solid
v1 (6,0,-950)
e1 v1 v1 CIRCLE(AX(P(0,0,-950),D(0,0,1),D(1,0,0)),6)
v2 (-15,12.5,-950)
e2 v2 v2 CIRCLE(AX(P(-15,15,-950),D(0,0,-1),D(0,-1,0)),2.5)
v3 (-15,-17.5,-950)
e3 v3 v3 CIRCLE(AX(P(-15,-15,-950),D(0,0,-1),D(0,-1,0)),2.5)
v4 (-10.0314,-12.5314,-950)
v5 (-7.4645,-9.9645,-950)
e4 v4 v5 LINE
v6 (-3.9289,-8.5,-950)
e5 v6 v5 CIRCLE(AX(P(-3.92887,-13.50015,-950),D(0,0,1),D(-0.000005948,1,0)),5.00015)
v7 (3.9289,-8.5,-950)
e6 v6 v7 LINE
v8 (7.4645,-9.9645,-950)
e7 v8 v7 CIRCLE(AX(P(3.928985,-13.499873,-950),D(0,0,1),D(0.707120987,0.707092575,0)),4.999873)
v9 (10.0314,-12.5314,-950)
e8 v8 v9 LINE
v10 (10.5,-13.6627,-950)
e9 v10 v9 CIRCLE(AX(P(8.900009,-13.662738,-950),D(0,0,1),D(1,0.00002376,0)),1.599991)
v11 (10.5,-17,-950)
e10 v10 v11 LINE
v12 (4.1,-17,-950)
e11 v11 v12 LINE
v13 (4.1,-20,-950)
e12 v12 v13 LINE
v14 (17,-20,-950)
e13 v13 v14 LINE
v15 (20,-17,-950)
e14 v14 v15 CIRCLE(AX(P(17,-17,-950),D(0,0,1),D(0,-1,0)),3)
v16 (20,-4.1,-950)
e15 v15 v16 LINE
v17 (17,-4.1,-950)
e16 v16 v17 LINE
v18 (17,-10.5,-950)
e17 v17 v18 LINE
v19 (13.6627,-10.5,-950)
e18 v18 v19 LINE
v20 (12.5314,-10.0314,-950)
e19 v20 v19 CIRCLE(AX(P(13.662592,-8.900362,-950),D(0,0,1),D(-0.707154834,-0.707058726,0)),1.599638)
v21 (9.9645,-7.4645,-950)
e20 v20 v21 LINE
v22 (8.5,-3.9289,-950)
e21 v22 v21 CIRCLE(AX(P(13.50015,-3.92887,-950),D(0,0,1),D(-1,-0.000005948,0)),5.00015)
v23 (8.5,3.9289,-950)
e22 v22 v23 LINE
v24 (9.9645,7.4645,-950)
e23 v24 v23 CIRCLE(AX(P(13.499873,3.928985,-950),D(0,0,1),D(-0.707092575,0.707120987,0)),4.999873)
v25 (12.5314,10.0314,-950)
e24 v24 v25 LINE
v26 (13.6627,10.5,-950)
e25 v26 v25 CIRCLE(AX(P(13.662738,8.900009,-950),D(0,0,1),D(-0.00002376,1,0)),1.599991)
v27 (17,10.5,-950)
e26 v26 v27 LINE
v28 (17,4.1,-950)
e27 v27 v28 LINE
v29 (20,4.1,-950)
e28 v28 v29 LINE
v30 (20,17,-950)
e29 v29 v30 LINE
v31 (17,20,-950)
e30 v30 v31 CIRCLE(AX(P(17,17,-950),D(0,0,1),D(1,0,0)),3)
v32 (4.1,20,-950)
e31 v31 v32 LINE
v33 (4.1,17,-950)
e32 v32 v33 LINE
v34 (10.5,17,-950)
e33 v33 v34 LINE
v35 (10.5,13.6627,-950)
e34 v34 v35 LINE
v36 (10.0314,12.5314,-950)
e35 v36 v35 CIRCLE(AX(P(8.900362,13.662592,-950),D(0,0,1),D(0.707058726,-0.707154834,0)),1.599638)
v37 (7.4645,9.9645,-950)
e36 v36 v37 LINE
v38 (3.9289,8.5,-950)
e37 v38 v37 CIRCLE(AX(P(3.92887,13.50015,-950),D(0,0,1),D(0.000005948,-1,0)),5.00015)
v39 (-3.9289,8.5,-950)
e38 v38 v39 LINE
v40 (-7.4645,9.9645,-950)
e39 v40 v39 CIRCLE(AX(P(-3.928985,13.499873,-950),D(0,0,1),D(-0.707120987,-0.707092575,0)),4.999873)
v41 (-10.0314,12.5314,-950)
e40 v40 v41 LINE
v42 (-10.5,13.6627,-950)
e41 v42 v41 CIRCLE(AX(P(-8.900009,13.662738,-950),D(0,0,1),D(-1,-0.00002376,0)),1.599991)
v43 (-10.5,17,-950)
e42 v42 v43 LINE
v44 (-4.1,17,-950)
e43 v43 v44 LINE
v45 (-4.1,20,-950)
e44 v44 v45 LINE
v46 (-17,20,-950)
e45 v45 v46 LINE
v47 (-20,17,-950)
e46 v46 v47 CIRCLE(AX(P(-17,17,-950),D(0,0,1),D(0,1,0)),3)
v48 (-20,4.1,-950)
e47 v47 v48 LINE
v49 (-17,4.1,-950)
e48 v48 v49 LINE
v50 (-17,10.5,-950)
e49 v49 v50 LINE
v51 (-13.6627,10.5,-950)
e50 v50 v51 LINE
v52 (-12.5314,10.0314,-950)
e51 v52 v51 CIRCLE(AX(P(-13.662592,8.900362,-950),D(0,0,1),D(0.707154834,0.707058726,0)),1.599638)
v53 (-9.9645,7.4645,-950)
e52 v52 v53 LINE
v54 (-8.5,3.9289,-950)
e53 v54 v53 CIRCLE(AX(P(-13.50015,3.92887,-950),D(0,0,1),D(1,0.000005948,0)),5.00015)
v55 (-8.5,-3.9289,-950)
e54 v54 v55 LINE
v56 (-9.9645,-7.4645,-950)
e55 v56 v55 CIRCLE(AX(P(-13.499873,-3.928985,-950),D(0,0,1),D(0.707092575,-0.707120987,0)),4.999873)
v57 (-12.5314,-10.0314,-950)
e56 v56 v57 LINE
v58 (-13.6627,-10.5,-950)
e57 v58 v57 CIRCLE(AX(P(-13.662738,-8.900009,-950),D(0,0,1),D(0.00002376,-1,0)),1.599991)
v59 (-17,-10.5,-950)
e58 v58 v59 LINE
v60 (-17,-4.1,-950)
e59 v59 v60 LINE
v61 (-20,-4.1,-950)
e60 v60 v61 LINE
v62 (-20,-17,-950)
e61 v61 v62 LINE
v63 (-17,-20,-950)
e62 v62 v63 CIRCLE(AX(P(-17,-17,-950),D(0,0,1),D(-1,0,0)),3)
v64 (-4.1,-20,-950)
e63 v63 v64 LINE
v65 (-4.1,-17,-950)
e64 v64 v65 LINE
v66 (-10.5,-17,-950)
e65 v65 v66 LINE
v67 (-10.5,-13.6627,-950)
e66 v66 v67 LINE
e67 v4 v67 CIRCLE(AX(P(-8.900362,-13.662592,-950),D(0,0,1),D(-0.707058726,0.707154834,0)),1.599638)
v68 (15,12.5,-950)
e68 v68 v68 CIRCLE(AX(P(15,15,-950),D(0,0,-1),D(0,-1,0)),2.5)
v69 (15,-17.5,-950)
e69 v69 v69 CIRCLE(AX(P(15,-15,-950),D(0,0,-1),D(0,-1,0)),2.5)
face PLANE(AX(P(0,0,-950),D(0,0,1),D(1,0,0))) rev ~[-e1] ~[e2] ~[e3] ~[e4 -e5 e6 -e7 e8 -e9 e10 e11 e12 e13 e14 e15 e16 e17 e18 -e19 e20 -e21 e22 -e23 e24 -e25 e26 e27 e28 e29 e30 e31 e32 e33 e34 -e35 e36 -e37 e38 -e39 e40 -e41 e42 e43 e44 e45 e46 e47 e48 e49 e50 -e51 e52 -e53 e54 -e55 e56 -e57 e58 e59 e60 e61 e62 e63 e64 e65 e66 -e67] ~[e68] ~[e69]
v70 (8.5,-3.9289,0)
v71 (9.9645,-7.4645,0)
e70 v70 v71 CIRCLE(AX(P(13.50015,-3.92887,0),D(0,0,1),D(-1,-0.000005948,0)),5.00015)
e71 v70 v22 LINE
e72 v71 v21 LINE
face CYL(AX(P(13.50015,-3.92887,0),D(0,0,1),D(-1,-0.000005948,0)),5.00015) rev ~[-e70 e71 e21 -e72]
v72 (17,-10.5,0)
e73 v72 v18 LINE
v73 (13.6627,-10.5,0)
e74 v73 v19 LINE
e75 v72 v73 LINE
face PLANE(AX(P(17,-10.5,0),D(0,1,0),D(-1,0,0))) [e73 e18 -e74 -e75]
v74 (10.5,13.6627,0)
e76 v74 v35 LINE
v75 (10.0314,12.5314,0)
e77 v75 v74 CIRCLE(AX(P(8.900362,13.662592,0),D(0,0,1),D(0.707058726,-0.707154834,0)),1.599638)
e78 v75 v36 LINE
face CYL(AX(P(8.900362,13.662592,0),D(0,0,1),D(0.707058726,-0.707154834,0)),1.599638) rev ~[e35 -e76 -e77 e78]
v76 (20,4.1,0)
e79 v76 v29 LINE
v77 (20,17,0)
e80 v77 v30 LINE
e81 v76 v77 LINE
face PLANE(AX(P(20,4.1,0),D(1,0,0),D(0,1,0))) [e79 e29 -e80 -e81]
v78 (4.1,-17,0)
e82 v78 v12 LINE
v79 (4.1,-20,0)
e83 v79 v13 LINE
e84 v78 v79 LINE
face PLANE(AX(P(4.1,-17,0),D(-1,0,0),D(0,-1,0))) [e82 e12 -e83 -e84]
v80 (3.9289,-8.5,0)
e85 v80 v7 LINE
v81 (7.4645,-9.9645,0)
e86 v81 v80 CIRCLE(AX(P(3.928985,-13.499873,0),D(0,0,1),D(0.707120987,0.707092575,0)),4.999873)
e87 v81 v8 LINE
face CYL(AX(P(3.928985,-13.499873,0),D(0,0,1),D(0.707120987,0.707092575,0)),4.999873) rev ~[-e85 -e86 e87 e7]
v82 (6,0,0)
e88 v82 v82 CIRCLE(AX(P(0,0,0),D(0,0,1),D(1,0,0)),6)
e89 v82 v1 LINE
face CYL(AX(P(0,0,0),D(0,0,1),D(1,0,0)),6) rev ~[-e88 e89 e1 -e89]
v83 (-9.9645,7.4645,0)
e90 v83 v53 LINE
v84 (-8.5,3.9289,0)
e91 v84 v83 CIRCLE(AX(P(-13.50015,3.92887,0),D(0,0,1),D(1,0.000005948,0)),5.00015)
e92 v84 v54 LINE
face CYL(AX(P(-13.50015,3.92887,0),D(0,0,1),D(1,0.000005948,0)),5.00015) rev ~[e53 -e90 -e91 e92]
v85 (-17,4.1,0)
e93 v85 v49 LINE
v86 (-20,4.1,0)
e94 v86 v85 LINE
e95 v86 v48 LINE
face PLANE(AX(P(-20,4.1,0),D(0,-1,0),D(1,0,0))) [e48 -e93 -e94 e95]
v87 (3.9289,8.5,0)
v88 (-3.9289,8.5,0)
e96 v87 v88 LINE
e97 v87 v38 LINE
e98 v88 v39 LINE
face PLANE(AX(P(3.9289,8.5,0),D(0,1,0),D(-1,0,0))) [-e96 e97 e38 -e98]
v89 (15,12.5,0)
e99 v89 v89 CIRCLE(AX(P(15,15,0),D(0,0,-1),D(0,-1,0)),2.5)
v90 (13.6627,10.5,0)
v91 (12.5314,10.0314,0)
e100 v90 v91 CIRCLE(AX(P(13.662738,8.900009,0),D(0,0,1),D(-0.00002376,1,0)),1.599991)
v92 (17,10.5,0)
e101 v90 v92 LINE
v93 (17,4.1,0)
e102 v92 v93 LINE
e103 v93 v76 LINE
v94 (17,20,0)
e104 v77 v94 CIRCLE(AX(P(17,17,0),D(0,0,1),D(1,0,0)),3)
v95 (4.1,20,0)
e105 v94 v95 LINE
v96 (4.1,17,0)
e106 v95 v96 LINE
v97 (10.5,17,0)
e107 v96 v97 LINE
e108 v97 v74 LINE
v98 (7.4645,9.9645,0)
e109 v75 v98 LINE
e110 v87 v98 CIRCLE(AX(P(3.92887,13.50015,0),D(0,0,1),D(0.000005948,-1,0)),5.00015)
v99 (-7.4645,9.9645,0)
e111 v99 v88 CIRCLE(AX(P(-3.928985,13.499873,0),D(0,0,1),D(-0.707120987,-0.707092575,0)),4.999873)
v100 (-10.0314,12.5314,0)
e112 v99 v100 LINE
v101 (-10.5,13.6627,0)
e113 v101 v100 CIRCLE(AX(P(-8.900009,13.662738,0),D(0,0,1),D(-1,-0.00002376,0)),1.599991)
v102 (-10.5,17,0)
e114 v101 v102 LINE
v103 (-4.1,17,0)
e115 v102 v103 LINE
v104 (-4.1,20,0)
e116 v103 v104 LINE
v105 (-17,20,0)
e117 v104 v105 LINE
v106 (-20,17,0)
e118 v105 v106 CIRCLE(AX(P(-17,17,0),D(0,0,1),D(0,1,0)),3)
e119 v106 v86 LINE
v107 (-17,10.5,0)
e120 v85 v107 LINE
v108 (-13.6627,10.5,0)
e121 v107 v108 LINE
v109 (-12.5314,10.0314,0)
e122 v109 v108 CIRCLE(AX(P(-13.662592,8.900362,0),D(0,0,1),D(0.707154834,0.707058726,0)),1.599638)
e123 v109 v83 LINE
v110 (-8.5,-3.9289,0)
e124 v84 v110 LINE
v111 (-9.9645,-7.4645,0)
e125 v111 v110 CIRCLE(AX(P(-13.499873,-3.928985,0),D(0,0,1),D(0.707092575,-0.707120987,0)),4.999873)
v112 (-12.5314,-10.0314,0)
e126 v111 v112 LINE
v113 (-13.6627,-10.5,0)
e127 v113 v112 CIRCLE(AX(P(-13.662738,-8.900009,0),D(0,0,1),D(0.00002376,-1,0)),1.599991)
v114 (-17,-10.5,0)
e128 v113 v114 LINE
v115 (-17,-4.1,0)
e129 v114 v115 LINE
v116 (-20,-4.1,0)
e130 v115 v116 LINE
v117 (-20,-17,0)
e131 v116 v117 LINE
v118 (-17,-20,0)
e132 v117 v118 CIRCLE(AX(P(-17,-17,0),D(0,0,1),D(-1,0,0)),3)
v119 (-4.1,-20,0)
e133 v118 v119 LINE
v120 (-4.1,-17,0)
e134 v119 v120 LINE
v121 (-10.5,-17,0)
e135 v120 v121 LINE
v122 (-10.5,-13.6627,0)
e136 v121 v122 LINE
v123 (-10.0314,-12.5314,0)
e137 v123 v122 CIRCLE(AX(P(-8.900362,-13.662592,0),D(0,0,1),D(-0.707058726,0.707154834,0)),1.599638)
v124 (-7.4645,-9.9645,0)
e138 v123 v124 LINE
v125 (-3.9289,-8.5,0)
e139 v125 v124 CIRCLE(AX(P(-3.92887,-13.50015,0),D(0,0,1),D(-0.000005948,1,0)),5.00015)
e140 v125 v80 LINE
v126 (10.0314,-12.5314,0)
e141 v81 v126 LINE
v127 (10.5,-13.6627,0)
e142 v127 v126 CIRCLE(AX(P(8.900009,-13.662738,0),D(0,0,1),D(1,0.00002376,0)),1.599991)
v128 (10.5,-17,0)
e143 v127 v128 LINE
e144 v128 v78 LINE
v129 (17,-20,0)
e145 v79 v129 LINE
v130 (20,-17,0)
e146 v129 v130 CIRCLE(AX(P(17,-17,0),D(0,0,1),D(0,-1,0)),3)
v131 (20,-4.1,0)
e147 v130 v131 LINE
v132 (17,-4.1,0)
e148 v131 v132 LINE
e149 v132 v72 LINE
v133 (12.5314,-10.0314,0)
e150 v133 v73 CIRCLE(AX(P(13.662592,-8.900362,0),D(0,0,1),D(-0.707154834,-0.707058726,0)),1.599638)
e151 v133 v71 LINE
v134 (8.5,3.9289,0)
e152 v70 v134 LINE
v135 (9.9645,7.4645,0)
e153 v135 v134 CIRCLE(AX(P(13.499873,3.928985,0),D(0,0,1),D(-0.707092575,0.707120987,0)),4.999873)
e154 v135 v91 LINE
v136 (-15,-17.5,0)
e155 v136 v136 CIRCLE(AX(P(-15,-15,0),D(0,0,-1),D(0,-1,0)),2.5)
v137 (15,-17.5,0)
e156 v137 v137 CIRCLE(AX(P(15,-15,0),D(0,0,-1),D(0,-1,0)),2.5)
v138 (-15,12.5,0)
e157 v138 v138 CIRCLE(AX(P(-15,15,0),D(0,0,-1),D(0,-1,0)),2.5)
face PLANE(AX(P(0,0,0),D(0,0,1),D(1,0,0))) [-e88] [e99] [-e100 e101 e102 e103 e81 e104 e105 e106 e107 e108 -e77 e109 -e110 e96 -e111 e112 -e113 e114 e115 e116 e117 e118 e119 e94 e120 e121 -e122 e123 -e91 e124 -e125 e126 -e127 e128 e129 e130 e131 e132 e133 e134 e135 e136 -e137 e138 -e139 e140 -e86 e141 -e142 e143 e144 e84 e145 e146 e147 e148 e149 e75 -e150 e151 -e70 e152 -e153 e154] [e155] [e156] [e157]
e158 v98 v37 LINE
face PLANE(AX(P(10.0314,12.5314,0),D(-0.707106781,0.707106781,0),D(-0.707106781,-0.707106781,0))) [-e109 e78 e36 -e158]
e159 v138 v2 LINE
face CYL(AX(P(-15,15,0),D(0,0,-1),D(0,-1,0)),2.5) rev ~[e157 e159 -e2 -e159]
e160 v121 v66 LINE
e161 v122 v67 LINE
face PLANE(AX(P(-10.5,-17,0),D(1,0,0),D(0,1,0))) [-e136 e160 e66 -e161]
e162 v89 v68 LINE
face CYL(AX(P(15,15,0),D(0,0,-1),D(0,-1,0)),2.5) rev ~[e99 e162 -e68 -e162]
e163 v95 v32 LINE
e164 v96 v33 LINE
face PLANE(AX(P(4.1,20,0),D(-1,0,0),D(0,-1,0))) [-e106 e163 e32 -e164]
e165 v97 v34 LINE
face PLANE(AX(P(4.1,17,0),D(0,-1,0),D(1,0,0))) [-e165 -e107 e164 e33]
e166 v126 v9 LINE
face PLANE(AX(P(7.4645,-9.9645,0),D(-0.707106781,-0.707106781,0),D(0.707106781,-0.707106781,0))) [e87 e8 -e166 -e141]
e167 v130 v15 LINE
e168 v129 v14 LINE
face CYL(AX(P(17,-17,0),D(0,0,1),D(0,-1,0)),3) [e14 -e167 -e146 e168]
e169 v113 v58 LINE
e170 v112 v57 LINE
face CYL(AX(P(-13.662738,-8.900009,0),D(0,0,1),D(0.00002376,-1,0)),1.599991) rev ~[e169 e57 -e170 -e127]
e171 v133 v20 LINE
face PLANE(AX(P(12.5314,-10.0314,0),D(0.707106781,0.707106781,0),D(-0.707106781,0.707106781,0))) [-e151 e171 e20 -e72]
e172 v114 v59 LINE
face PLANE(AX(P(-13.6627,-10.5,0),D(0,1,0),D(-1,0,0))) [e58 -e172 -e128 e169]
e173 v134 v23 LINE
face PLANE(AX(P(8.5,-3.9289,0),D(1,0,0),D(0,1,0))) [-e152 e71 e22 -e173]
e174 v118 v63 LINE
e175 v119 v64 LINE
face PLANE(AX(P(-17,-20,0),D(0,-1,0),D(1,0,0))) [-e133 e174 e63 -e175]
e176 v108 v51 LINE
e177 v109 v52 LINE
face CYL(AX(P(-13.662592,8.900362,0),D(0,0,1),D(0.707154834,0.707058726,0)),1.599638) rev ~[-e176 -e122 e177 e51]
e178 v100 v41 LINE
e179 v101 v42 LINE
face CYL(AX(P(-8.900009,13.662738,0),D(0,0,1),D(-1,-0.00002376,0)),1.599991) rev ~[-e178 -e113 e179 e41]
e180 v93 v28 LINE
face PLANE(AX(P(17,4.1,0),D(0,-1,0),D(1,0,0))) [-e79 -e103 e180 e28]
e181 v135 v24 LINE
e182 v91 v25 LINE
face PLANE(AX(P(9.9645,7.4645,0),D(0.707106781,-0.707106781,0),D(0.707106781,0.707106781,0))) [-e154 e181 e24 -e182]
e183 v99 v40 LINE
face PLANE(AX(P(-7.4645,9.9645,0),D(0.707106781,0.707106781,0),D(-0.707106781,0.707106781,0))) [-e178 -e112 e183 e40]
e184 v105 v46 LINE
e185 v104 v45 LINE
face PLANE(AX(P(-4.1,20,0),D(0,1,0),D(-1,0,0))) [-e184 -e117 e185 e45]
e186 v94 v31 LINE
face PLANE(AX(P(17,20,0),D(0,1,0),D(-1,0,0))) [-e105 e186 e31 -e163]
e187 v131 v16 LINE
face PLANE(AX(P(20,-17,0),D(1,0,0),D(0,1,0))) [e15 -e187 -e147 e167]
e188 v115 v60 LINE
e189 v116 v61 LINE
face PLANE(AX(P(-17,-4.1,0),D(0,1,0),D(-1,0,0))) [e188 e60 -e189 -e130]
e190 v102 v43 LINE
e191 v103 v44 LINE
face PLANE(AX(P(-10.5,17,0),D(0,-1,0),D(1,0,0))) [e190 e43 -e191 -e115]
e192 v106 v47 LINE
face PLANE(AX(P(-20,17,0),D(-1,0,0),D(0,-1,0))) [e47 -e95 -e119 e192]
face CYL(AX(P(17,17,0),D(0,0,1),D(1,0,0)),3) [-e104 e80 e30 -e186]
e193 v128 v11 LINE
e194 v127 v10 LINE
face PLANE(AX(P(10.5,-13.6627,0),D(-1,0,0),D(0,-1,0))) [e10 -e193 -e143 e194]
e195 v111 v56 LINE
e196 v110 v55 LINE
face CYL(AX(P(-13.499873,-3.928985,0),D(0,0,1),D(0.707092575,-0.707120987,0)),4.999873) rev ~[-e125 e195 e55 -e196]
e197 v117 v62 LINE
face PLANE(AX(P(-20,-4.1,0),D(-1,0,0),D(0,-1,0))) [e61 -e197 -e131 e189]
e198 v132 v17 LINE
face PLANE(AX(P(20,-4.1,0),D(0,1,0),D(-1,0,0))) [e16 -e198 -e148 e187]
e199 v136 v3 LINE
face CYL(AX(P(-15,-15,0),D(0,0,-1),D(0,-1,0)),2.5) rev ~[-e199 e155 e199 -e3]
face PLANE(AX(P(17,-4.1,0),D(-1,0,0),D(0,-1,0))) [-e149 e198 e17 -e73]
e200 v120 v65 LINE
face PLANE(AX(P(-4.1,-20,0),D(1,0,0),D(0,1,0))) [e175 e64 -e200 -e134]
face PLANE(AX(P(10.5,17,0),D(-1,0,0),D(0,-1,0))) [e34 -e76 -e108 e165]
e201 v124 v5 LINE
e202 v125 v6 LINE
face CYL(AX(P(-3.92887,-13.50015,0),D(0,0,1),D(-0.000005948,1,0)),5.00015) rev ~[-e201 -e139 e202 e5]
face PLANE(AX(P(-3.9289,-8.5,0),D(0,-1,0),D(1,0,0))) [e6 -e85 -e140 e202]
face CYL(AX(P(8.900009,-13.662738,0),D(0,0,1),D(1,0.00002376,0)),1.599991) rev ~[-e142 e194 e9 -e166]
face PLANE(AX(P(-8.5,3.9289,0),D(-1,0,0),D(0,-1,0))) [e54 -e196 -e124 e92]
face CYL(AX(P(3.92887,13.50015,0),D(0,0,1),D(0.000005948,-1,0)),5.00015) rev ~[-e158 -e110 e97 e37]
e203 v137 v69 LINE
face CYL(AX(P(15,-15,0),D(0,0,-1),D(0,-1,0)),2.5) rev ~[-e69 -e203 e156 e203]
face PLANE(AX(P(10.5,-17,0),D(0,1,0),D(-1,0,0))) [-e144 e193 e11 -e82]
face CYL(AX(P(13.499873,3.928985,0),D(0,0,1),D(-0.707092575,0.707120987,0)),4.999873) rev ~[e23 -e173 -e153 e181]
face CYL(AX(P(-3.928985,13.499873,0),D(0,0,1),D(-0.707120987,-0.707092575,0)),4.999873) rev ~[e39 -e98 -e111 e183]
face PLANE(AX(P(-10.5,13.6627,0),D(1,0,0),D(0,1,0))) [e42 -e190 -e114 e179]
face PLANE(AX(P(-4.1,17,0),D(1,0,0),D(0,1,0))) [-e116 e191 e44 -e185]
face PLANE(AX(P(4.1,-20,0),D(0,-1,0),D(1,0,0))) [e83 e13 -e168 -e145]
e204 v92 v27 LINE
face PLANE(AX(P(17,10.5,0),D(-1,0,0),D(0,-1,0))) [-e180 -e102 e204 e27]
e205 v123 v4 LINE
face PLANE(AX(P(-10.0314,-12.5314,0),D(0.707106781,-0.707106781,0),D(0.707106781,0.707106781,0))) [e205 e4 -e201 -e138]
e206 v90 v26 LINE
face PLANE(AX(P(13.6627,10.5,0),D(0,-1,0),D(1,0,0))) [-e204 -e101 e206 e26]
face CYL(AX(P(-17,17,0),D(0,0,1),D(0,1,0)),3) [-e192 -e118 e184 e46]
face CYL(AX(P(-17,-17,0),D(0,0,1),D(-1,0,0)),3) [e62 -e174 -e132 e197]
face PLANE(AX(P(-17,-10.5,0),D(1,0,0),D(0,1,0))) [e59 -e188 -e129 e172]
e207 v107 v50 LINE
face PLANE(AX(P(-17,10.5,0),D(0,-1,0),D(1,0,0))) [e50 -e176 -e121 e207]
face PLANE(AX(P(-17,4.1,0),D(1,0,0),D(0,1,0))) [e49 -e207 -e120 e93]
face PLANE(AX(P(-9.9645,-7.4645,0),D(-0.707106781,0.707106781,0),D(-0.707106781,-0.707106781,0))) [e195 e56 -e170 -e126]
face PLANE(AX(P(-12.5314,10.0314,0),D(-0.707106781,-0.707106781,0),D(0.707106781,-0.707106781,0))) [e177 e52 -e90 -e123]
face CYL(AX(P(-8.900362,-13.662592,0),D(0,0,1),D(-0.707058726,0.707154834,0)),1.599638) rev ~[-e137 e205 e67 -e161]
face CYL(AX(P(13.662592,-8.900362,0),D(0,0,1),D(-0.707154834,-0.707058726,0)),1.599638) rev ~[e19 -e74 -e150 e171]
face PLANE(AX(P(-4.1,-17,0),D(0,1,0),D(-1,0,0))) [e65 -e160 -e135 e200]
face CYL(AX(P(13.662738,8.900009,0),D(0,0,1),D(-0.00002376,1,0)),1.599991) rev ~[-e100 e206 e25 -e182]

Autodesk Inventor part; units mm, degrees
sketch "Skizze_1" plane through (0, 0, 0) normal (0, 0, 1) x (1, 0, 0)
  arc A0 (-20, -17) -> (-17, -20) centre (-17, -17) ccw
  line L0 (-17, -20) -> (-4.1, -20)
  line L1 (-4.1, -20) -> (-4.1, -17)
  line L2 (-4.1, -17) -> (-10.5, -17)
  line L3 (-10.5, -17) -> (-10.5, -13.6627)
  arc A1 (-10.0314, -12.5314) -> (-10.5, -13.6627) centre (-8.9002, -13.6627) ccw
  line L4 (-10.0314, -12.5314) -> (-7.4645, -9.9645)
  arc A2 (-3.9289, -8.5) -> (-7.4645, -9.9645) centre (-3.9289, -13.5) ccw
  line L5 (-3.9289, -8.5) -> (3.9289, -8.5)
  arc A3 (7.4645, -9.9645) -> (3.9289, -8.5) centre (3.9289, -13.5) ccw
  line L6 (7.4645, -9.9645) -> (10.0314, -12.5314)
  arc A4 (10.5, -13.6627) -> (10.0314, -12.5314) centre (8.9002, -13.6627) ccw
  line L7 (10.5, -13.6627) -> (10.5, -17)
  line L8 (10.5, -17) -> (4.1, -17)
  line L9 (4.1, -17) -> (4.1, -20)
  line L10 (4.1, -20) -> (17, -20)
  arc A5 (17, -20) -> (20, -17) centre (17, -17) ccw
  line L11 (20, -17) -> (20, -4.1)
  line L12 (20, -4.1) -> (17, -4.1)
  line L13 (17, -4.1) -> (17, -10.5)
  line L14 (17, -10.5) -> (13.6627, -10.5)
  arc A6 (12.5314, -10.0314) -> (13.6627, -10.5) centre (13.6627, -8.9002) ccw
  line L15 (12.5314, -10.0314) -> (9.9645, -7.4645)
  arc A7 (8.5, -3.9289) -> (9.9645, -7.4645) centre (13.5, -3.9289) ccw
  line L16 (8.5, -3.9289) -> (8.5, 3.9289)
  arc A8 (9.9645, 7.4645) -> (8.5, 3.9289) centre (13.5, 3.9289) ccw
  line L17 (9.9645, 7.4645) -> (12.5314, 10.0314)
  arc A9 (13.6627, 10.5) -> (12.5314, 10.0314) centre (13.6627, 8.9002) ccw
  line L18 (13.6627, 10.5) -> (17, 10.5)
  line L19 (17, 10.5) -> (17, 4.1)
  line L20 (17, 4.1) -> (20, 4.1)
  line L21 (20, 4.1) -> (20, 17)
  arc A10 (20, 17) -> (17, 20) centre (17, 17) ccw
  line L22 (17, 20) -> (4.1, 20)
  line L23 (4.1, 20) -> (4.1, 17)
  line L24 (4.1, 17) -> (10.5, 17)
  line L25 (10.5, 17) -> (10.5, 13.6627)
  arc A11 (10.0314, 12.5314) -> (10.5, 13.6627) centre (8.9002, 13.6627) ccw
  line L26 (10.0314, 12.5314) -> (7.4645, 9.9645)
  arc A12 (3.9289, 8.5) -> (7.4645, 9.9645) centre (3.9289, 13.5) ccw
  line L27 (3.9289, 8.5) -> (-3.9289, 8.5)
  arc A13 (-7.4645, 9.9645) -> (-3.9289, 8.5) centre (-3.9289, 13.5) ccw
  line L28 (-7.4645, 9.9645) -> (-10.0314, 12.5314)
  arc A14 (-10.5, 13.6627) -> (-10.0314, 12.5314) centre (-8.9002, 13.6627) ccw
  line L29 (-10.5, 13.6627) -> (-10.5, 17)
  line L30 (-10.5, 17) -> (-4.1, 17)
  line L31 (-4.1, 17) -> (-4.1, 20)
  line L32 (-4.1, 20) -> (-17, 20)
  arc A15 (-17, 20) -> (-20, 17) centre (-17, 17) ccw
  line L33 (-20, 17) -> (-20, 4.1)
  line L34 (-20, 4.1) -> (-17, 4.1)
  line L35 (-17, 4.1) -> (-17, 10.5)
  line L36 (-17, 10.5) -> (-13.6627, 10.5)
  arc A16 (-12.5314, 10.0314) -> (-13.6627, 10.5) centre (-13.6627, 8.9002) ccw
  line L37 (-12.5314, 10.0314) -> (-9.9645, 7.4645)
  arc A17 (-8.5, 3.9289) -> (-9.9645, 7.4645) centre (-13.5, 3.9289) ccw
  line L38 (-8.5, 3.9289) -> (-8.5, -3.9289)
  arc A18 (-9.9645, -7.4645) -> (-8.5, -3.9289) centre (-13.5, -3.9289) ccw
  line L39 (-9.9645, -7.4645) -> (-12.5314, -10.0314)
  arc A19 (-13.6627, -10.5) -> (-12.5314, -10.0314) centre (-13.6627, -8.9002) ccw
  line L40 (-13.6627, -10.5) -> (-17, -10.5)
  line L41 (-17, -10.5) -> (-17, -4.1)
  line L42 (-17, -4.1) -> (-20, -4.1)
  line L43 (-20, -4.1) -> (-20, -17)
  circle A20 centre (0, 0) radius 6
extrude "Extrusion1" add sketch "Skizze_1" against normal blind 950
sketch "Sketch2" plane through (0, 0, 0) normal (0, 0, 1) x (1, 0, 0)
  point P0 (-15, -15)
hole "Drilling 1" at (-15, -15, 0) direction (0, 0, -1) diameter 5 depth 6000
sketch "Sketch3" plane through (0, 0, 0) normal (0, 0, 1) x (1, 0, 0)
  point P0 (15, -15)
hole "Drilling 2" at (15, -15, 0) direction (0, 0, -1) diameter 5 depth 6000
sketch "Sketch4" plane through (0, 0, 0) normal (0, 0, 1) x (1, 0, 0)
  point P0 (15, 15)
hole "Drilling 3" at (15, 15, 0) direction (0, 0, -1) diameter 5 depth 6000
sketch "Sketch5" plane through (0, 0, 0) normal (0, 0, 1) x (1, 0, 0)
  point P0 (-15, 15)
hole "Drilling 4" at (-15, 15, 0) direction (0, 0, -1) diameter 5 depth 6000
ref_plane "side_4d_XY" through (-20, 0, -475) normal (-1, 0, 0) x (0, 1, 0)
ref_plane "side_4d_YZ" through (-20, 0, -475) normal (0, 1, 0) x (0, 0, -1)
ref_plane "side_4d_ZX" through (-20, 0, -475) normal (0, 0, -1) x (-1, 0, 0)
ref_plane "side_1a_XY" through (0, 20, -475) normal (0, 1, 0) x (1, 0, 0)
ref_plane "side_1a_YZ" through (0, 20, -475) normal (1, 0, 0) x (0, 0, -1)
ref_plane "side_1a_ZX" through (0, 20, -475) normal (0, 0, -1) x (0, 1, 0)
ref_plane "side_2b_XY" through (20, 0, -475) normal (1, 0, 0) x (0, -1, 0)
ref_plane "side_2b_YZ" through (20, 0, -475) normal (0, -1, 0) x (0, 0, -1)
ref_plane "side_2b_ZX" through (20, 0, -475) normal (0, 0, -1) x (1, 0, 0)
ref_plane "side_3c_XY" through (0, -20, -475) normal (0, -1, 0) x (-1, 0, 0)
ref_plane "side_3c_YZ" through (0, -20, -475) normal (-1, 0, 0) x (0, 0, -1)
ref_plane "side_3c_ZX" through (0, -20, -475) normal (0, 0, -1) x (0, -1, 0)
ref_plane "end_XY" through (0, 0, -950) normal (0, 0, -1) x (1, 0, 0)
ref_plane "end_YZ" through (0, 0, -950) normal (1, 0, 0) x (0, -1, 0)
ref_plane "end_ZX" through (0, 0, -950) normal (0, -1, 0) x (0, 0, -1)
ref_plane "start_XY" through (0, 0, 0) normal (0, 0, 1) x (1, 0, 0)
ref_plane "start_YZ" through (0, 0, 0) normal (1, 0, 0) x (0, 1, 0)
ref_plane "start_ZX" through (0, 0, 0) normal (0, 1, 0) x (0, 0, 1)
properties part number "MayTec 1.11.040040.43S_Profile 40x40, 4E, S_950_Detail_(0;0,0,0)"
